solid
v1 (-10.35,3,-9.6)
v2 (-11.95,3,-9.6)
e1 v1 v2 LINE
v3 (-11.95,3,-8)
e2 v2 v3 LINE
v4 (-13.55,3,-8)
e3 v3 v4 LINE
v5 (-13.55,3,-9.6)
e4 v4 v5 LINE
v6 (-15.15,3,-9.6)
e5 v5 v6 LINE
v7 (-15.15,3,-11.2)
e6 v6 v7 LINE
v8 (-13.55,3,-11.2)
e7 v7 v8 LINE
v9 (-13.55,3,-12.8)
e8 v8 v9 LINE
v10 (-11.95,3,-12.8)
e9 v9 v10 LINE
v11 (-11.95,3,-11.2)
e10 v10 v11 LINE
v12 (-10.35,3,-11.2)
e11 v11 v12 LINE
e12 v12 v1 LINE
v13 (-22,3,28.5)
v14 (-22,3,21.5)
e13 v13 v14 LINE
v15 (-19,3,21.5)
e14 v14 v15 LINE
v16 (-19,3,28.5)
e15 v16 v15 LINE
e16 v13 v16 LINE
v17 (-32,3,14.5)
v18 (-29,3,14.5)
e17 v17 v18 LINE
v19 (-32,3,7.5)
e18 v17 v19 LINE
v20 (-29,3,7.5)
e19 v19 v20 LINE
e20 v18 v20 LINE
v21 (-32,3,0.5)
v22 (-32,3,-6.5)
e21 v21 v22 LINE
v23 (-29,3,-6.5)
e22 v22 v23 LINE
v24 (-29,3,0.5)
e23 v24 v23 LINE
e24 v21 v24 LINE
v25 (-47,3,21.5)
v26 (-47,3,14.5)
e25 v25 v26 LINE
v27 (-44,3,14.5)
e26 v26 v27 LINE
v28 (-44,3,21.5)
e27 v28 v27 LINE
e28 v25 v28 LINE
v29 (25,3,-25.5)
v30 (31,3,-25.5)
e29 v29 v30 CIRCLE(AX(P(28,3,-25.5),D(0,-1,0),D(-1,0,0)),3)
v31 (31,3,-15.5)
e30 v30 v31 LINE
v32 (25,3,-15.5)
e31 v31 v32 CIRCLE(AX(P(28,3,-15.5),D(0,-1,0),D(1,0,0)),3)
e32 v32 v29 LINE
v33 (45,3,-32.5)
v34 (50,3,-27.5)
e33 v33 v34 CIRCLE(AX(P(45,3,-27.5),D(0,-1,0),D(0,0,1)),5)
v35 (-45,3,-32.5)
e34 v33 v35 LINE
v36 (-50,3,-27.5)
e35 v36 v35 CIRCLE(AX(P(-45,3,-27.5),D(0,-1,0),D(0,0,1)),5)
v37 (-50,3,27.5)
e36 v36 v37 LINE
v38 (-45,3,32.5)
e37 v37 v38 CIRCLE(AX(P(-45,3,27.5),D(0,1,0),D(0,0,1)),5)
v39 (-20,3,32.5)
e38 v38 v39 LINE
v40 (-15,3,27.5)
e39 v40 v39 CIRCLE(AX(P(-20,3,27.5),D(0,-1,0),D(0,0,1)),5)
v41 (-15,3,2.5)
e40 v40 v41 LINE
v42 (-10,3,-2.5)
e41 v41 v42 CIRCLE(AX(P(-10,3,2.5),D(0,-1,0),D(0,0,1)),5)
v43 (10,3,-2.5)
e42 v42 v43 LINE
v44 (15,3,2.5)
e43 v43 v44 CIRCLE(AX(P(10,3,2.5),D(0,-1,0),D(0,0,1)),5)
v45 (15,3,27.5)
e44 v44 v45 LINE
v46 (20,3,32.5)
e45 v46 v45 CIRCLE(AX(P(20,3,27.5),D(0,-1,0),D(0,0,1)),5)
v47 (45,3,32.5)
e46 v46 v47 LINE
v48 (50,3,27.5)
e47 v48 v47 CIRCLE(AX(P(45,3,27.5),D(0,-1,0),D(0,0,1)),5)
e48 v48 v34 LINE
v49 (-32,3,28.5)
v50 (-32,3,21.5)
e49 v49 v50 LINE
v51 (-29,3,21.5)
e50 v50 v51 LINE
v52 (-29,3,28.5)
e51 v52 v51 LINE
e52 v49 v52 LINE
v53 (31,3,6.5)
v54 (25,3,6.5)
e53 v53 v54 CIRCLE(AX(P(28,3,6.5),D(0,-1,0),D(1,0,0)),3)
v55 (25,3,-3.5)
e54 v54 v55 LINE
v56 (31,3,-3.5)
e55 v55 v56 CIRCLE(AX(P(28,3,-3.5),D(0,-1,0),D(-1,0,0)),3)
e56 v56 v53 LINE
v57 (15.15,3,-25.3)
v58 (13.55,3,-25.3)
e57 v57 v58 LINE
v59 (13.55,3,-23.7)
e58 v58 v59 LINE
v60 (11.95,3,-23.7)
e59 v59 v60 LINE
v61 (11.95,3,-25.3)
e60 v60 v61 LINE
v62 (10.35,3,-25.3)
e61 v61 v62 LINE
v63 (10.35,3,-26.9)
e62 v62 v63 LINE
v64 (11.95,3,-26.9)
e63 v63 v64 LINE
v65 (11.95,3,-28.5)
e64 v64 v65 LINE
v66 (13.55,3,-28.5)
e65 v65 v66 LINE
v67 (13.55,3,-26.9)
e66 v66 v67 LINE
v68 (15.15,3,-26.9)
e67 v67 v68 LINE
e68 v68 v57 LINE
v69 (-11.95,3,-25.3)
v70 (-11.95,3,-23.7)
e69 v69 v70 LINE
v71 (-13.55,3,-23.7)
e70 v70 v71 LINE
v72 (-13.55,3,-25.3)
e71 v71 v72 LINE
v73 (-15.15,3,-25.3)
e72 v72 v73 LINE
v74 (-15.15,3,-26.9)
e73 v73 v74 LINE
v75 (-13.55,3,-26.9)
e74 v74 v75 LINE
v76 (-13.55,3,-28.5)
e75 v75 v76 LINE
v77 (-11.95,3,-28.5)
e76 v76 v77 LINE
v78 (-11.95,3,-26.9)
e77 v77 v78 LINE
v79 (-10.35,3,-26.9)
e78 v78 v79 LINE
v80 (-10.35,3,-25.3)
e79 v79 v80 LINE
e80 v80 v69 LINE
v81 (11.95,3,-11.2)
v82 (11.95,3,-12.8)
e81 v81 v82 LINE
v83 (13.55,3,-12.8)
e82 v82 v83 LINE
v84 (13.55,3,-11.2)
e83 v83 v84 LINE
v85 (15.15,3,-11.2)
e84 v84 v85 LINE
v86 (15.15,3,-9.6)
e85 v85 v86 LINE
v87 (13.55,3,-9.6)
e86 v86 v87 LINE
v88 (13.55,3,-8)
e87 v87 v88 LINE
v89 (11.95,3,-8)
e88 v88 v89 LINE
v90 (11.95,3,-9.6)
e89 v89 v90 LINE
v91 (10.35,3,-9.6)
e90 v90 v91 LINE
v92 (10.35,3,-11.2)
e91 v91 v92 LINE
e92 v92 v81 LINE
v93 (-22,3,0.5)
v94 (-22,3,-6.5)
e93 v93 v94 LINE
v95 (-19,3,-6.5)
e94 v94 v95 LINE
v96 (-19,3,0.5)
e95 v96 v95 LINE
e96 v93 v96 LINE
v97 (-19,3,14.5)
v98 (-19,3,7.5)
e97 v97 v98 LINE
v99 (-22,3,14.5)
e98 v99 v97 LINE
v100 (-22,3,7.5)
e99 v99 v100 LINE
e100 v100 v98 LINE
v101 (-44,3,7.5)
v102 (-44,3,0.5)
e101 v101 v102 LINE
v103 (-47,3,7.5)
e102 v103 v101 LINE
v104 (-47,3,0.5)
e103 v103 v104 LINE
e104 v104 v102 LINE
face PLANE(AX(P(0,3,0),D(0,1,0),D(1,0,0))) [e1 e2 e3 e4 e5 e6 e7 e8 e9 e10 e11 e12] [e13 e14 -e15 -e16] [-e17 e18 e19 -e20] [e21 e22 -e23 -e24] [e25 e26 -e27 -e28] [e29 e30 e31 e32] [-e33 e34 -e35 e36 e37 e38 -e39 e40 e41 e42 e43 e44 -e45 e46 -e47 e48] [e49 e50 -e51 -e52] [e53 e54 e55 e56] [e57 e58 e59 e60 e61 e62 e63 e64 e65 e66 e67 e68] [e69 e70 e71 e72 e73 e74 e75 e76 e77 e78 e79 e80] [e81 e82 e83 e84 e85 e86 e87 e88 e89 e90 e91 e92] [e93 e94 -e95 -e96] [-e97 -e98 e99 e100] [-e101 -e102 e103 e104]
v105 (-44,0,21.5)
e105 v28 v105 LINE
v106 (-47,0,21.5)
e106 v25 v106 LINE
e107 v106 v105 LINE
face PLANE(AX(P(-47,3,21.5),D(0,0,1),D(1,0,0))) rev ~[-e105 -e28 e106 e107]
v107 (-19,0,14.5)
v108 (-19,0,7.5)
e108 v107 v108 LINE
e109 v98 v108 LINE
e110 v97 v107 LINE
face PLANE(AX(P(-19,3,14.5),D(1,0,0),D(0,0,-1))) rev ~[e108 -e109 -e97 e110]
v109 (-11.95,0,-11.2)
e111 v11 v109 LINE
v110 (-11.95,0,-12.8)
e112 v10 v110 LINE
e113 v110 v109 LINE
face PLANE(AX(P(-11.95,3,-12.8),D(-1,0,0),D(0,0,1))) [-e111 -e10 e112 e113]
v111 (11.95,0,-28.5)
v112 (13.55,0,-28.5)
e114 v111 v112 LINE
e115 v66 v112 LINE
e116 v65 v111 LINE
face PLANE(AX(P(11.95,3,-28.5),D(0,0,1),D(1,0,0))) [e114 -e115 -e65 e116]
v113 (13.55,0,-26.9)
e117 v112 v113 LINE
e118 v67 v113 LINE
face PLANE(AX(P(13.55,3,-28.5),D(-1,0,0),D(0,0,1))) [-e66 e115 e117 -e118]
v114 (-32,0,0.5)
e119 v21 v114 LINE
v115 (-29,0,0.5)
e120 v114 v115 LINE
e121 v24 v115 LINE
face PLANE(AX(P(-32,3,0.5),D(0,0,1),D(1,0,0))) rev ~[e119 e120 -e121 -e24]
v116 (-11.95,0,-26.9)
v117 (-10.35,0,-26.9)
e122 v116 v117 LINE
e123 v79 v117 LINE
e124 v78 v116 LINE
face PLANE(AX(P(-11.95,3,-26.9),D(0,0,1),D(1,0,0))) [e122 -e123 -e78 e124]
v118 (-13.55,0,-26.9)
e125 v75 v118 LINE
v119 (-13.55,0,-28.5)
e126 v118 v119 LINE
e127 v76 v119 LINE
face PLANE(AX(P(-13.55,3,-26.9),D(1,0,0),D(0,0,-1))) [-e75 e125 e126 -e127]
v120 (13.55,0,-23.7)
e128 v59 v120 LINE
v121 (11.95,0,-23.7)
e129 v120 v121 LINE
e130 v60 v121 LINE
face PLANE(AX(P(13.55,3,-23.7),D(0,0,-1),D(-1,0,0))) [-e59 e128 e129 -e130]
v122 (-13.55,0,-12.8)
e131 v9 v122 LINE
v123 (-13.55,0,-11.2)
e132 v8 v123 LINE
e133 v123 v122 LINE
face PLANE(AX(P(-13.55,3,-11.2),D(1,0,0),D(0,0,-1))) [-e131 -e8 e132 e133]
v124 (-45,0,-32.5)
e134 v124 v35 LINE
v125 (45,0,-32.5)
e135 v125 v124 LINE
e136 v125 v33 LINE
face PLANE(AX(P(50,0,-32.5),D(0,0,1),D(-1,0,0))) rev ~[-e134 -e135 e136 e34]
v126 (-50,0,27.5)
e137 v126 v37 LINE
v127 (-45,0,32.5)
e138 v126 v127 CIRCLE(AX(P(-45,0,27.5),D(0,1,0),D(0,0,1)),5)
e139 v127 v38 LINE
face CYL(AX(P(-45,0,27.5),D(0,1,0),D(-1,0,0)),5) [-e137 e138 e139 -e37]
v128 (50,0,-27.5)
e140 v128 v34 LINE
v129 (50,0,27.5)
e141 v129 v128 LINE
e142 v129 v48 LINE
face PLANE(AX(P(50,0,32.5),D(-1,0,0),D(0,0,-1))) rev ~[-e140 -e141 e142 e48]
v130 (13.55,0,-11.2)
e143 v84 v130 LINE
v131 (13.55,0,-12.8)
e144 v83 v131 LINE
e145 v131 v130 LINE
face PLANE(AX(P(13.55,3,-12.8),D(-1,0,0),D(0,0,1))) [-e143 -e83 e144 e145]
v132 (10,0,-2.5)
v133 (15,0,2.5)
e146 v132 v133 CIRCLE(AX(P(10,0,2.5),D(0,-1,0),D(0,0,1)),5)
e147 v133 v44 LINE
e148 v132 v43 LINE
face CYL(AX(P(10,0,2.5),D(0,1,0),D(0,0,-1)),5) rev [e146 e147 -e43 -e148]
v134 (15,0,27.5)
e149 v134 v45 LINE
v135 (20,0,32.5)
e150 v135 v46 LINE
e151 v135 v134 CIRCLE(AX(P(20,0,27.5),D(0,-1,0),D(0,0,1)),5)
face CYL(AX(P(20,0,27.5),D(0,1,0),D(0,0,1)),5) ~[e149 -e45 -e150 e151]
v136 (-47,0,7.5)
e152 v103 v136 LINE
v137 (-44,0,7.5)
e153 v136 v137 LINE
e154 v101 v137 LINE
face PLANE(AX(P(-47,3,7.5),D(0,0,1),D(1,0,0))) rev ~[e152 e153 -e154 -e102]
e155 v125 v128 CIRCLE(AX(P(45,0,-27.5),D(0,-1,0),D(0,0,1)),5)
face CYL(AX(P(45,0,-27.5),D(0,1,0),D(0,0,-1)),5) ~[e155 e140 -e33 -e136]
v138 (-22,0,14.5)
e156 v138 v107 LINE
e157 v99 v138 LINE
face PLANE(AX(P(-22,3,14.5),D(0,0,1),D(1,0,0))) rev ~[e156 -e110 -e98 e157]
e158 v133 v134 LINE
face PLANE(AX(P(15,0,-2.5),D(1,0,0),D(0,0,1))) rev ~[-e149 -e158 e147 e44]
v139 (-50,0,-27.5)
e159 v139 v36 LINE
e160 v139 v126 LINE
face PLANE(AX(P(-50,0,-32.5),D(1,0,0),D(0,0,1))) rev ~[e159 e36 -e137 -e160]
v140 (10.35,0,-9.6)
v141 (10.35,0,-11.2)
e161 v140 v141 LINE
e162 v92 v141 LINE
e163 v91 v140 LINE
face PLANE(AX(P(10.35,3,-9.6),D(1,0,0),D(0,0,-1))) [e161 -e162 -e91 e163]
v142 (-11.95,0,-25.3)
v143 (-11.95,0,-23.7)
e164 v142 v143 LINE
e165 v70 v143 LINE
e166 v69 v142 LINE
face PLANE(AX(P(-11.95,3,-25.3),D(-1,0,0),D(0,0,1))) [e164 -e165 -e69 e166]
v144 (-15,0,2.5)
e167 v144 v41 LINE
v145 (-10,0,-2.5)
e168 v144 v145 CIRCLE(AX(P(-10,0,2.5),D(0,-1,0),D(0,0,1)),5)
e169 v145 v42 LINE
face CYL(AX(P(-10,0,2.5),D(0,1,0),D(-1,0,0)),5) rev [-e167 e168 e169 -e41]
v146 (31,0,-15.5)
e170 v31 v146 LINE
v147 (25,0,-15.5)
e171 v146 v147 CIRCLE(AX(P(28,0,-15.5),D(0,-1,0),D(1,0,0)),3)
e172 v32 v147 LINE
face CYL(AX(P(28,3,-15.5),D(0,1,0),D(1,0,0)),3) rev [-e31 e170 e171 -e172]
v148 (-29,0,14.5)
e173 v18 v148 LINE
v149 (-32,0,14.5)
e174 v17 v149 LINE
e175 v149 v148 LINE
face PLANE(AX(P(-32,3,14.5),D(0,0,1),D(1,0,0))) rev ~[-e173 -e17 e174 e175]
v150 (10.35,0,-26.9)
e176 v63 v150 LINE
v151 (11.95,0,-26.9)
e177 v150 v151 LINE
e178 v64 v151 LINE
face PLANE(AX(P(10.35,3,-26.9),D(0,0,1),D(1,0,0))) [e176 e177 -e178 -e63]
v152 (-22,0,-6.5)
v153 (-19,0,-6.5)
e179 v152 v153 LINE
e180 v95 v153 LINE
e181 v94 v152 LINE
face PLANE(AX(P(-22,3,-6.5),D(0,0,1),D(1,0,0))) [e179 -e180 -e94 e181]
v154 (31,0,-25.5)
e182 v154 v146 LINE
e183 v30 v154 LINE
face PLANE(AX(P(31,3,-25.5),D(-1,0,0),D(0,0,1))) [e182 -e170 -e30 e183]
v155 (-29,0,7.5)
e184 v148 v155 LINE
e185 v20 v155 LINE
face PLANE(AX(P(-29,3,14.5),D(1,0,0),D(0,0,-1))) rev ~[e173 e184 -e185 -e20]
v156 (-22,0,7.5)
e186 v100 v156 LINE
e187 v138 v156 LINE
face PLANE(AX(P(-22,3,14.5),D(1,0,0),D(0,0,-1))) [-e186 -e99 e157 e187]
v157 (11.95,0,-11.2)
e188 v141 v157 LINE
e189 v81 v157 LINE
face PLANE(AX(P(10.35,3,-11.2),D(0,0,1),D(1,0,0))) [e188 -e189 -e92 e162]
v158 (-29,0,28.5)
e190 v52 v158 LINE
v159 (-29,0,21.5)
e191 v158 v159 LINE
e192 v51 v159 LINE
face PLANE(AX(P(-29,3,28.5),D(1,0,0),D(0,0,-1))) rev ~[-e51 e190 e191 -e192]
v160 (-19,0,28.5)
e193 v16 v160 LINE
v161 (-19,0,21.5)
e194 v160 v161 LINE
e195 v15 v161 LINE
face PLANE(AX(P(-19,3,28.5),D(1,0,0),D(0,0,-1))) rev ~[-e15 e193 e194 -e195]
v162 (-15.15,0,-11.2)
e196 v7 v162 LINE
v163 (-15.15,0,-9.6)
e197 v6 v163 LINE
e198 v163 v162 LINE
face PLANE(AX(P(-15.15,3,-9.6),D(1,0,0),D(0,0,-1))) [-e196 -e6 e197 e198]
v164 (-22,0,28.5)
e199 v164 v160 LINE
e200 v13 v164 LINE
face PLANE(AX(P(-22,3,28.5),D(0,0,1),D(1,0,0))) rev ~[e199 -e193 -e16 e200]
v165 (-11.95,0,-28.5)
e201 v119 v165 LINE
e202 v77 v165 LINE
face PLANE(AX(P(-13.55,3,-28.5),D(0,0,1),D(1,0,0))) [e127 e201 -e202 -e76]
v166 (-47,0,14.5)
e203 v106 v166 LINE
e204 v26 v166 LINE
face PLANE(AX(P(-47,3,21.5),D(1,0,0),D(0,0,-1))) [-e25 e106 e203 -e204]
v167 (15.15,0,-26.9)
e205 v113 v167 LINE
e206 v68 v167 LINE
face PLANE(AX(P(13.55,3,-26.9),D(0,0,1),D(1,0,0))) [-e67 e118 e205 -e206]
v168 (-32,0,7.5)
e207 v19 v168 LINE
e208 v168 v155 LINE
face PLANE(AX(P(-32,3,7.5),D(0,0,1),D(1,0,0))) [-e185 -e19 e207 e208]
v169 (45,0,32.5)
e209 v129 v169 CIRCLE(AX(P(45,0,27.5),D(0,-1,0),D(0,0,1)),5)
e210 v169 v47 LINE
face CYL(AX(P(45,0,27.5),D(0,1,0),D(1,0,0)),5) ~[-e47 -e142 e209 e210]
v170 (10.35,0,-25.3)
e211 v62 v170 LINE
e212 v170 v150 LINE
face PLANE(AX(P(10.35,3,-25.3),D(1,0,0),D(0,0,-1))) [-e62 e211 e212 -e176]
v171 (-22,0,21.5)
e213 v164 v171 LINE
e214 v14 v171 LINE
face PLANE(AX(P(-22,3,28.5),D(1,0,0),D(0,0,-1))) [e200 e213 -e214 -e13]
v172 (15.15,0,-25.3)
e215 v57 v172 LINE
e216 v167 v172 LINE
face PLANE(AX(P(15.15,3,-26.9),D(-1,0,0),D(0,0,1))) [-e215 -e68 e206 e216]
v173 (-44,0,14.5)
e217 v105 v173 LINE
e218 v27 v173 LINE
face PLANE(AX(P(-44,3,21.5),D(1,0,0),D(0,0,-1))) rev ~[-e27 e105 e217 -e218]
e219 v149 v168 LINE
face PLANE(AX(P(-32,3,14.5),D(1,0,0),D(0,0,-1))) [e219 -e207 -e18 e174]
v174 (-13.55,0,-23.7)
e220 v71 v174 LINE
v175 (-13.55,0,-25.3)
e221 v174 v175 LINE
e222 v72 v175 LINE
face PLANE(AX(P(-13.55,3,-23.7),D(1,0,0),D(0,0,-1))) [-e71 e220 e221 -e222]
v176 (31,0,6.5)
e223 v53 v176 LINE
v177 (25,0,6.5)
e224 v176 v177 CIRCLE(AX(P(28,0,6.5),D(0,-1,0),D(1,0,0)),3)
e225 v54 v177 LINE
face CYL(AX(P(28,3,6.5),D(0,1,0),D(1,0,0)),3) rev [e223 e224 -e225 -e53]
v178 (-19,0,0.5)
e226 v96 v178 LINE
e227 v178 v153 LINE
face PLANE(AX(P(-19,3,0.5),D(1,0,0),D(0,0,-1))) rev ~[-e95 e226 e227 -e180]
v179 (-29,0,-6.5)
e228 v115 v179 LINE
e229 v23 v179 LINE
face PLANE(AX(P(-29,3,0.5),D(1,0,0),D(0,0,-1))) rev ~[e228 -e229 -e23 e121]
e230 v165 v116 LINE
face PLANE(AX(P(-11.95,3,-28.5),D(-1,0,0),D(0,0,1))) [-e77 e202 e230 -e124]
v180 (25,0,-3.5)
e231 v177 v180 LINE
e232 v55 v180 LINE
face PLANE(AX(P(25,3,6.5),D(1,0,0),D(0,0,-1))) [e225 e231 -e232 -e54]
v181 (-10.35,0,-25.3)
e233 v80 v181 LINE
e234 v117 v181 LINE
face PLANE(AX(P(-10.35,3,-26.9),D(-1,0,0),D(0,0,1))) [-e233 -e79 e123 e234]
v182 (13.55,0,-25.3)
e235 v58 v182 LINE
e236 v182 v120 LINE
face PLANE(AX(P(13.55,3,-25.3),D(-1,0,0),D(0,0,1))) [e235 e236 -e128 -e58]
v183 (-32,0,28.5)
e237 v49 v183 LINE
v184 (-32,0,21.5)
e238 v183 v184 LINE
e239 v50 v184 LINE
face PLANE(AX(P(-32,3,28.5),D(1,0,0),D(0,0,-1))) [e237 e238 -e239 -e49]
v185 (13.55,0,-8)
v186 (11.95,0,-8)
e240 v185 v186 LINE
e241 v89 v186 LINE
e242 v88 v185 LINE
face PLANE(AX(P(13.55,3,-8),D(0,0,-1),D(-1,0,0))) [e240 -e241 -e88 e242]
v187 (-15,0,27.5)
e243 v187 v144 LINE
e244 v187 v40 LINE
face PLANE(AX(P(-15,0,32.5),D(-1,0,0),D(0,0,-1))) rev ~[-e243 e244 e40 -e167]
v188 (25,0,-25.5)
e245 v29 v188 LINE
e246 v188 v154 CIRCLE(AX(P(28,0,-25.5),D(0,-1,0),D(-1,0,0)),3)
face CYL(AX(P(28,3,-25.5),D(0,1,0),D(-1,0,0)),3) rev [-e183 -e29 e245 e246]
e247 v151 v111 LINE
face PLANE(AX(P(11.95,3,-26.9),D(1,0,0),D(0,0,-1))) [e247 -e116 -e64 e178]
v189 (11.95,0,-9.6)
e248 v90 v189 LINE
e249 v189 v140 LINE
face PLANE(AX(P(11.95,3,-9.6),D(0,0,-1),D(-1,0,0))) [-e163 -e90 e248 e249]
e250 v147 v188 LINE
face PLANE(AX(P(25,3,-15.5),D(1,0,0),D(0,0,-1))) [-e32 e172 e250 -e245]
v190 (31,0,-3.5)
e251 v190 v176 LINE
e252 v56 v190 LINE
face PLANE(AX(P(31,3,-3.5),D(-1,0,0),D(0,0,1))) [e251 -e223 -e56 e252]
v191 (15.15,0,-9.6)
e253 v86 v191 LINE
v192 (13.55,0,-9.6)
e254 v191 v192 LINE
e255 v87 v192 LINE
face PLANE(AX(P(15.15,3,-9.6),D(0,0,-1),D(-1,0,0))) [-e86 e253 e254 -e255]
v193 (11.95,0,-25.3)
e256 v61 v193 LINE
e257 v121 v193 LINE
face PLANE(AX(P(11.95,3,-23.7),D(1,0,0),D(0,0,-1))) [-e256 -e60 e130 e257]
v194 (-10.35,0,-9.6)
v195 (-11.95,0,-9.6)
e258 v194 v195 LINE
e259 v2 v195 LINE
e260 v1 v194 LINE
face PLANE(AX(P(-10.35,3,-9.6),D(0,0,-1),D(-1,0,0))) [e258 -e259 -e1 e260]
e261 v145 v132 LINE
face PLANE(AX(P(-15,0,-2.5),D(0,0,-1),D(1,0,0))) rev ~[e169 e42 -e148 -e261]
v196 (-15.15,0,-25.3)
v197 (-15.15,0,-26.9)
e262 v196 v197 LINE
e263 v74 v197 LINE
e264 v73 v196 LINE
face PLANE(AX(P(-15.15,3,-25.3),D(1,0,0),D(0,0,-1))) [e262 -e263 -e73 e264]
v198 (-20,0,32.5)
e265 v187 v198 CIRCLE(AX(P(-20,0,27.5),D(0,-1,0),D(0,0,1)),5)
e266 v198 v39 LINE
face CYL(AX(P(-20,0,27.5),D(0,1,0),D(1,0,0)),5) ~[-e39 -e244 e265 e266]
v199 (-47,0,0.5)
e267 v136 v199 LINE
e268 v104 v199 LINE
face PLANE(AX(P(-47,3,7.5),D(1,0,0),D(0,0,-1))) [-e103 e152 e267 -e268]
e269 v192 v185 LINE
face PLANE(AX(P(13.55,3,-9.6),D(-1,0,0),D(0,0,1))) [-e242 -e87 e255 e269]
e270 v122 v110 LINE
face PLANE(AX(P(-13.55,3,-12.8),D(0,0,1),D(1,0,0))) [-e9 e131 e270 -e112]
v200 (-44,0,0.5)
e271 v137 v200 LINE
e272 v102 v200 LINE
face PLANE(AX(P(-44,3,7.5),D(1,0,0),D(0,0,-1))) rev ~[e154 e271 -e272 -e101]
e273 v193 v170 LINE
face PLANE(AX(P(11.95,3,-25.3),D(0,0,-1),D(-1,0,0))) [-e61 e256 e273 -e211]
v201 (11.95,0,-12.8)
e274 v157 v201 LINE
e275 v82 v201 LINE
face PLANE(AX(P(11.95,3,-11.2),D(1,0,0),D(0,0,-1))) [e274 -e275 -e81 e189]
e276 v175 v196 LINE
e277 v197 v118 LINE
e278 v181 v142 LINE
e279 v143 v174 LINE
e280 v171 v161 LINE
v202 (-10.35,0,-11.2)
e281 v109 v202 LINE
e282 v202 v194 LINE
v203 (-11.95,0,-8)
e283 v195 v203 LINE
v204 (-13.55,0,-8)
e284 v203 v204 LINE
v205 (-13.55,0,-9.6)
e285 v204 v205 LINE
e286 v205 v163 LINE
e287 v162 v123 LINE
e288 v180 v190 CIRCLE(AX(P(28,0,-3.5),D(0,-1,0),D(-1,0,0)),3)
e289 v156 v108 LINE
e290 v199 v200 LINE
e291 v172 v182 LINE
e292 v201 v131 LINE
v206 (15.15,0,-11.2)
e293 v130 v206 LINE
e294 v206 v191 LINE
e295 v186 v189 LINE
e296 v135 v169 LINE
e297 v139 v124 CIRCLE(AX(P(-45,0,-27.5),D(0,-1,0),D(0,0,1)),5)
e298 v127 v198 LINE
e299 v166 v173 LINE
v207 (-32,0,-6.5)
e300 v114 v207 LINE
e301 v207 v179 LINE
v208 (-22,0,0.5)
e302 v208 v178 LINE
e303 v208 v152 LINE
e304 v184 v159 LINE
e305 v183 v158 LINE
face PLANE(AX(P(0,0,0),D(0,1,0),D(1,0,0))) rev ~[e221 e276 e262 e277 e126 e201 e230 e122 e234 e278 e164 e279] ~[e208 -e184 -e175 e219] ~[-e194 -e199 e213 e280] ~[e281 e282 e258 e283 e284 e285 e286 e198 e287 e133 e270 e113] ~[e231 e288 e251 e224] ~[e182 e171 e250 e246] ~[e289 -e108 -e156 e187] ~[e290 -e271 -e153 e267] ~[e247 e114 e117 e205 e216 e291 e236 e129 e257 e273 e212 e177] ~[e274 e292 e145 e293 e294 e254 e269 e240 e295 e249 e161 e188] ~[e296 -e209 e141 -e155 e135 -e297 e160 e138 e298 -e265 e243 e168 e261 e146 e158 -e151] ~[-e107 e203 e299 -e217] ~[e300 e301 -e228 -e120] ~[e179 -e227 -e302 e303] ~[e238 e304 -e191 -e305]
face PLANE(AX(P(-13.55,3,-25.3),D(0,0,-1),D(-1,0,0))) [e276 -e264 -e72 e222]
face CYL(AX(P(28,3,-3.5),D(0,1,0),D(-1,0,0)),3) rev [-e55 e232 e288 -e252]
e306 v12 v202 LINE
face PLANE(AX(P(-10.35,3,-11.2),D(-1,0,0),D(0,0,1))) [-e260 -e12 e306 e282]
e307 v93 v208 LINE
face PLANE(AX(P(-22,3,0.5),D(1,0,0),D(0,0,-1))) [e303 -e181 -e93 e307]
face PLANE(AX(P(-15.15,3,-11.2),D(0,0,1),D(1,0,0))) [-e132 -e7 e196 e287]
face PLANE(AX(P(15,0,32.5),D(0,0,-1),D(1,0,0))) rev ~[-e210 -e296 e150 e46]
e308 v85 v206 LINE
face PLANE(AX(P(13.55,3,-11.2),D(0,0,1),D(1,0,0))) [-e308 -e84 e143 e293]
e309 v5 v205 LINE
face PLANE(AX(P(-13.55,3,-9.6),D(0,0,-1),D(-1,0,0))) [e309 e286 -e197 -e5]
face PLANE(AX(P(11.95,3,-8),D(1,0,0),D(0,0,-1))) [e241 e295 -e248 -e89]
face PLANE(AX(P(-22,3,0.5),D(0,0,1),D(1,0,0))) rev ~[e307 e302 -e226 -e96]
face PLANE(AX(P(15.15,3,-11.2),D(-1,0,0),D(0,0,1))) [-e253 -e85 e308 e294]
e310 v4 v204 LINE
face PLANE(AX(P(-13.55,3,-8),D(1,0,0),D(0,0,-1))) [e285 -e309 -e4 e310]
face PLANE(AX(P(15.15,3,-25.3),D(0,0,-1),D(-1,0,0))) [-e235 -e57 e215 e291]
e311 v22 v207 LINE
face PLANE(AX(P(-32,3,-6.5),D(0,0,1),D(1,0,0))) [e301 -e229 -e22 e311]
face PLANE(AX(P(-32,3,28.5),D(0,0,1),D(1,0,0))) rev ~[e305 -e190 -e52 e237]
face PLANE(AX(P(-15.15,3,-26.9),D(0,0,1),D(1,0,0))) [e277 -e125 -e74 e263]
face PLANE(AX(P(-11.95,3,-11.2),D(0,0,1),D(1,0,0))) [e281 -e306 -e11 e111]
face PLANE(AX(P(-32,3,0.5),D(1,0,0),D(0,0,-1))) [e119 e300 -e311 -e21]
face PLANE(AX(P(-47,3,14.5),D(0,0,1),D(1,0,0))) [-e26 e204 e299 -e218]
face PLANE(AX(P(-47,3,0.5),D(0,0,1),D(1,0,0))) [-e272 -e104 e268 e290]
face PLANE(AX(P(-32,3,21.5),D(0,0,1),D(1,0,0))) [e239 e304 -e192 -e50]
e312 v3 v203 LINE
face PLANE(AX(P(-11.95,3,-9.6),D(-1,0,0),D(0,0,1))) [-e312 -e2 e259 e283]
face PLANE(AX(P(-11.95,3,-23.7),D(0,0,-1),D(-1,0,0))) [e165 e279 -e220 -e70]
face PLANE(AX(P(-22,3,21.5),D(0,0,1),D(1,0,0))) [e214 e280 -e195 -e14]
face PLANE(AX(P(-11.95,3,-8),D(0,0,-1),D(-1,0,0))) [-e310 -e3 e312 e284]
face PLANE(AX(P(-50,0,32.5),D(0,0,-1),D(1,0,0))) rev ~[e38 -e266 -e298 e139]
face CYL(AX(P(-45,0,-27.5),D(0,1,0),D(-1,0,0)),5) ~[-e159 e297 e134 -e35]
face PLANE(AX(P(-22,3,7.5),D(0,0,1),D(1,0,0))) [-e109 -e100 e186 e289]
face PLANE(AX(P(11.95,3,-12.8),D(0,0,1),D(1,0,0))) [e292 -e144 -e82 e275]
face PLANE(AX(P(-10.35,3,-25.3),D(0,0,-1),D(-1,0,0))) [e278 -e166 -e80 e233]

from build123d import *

# Parameters (mm, degrees)
BOSS_EXTRUDE1_DEPTH  = 3
FILLET1_R            = 5
FILLET2_R            = 5
SKETCH2_W            = 3
SKETCH2_H            = 7
CUT_EXTRUDE1_DEPTH   = 3
LPATTERN1_COUNT      = 3
LPATTERN1_PITCH      = 14
LPATTERN1_COUNT_DIR2 = 2
LPATTERN1_PITCH_DIR2 = 10
CUT_EXTRUDE2_DEPTH   = 3
LPATTERN2_COUNT      = 2
LPATTERN2_PITCH      = 25.5
LPATTERN2_COUNT_DIR2 = 2
LPATTERN2_PITCH_DIR2 = 15.7
FILLET3_R            = 5
FILLET4_R            = 5
FILLET5_R            = 5
FILLET6_R            = 5
FILLET7_R            = 5
FILLET8_R            = 5
CUT_EXTRUDE3_DEPTH   = 3
LPATTERN3_COUNT      = 2
LPATTERN3_PITCH      = 22
SKETCH5_W            = 3
SKETCH5_H            = 7
CUT_EXTRUDE4_DEPTH   = 3
LPATTERN4_COUNT      = 2
LPATTERN4_PITCH      = 14


with BuildPart() as part:
    # Sketch1 → Boss-Extrude1 (new body)
    with BuildSketch(Plane(origin=(0, 0, 0), x_dir=(1, 0, 0), z_dir=(0, 1, 0))):
        Polygon((15, -32.5), (50, -32.5), (50, 32.5), (-50, 32.5), (-50, -32.5), (-15, -32.5), (-15, 2.5), (15, 2.5), align=None)
    extrude(amount=BOSS_EXTRUDE1_DEPTH)

    # Fillet1
    fillet1_edges = [part.edges().sort_by_distance(p)[0] for p in [
        (-15, 1.5, -2.5),
    ]]
    fillet(fillet1_edges, radius=FILLET1_R)

    # Fillet2
    fillet2_edges = [part.edges().sort_by_distance(p)[0] for p in [
        (15, 1.5, -2.5),
    ]]
    fillet(fillet2_edges, radius=FILLET2_R)

    # Sketch2 → Cut-Extrude1 (cut)
    with BuildSketch(Plane(origin=(0, 3, 0), x_dir=(1, 0, 0), z_dir=(0, 1, 0))):
        with Locations((-20.5, 3)):
            Rectangle(SKETCH2_W, SKETCH2_H)
    cut_extrude1 = extrude(amount=-CUT_EXTRUDE1_DEPTH, mode=Mode.SUBTRACT)

    # LPattern1: Cut-Extrude1 3 × 2
    with Locations(*[(-j * LPATTERN1_PITCH_DIR2, 0, i * LPATTERN1_PITCH) for i in range(LPATTERN1_COUNT) for j in range(LPATTERN1_COUNT_DIR2) if (i, j) != (0, 0)]):
        add(cut_extrude1, mode=Mode.SUBTRACT)

    # Sketch3 → Cut-Extrude2 (cut)
    with BuildSketch(Plane(origin=(0, 3, 0), x_dir=(1, 0, 0), z_dir=(0, 1, 0))):
        Polygon((-13.55, 28.5), (-11.95, 28.5), (-11.95, 26.9), (-10.35, 26.9), (-10.35, 25.3), (-11.95, 25.3), (-11.95, 23.7), (-13.55, 23.7), (-13.55, 25.3), (-15.15, 25.3), (-15.15, 26.9), (-13.55, 26.9), align=None)
    cut_extrude2 = extrude(amount=-CUT_EXTRUDE2_DEPTH, mode=Mode.SUBTRACT)

    # LPattern2: Cut-Extrude2 2 × 2
    with Locations(*[(i * LPATTERN2_PITCH, 0, j * LPATTERN2_PITCH_DIR2) for i in range(LPATTERN2_COUNT) for j in range(LPATTERN2_COUNT_DIR2) if (i, j) != (0, 0)]):
        add(cut_extrude2, mode=Mode.SUBTRACT)

    # Fillet3
    fillet3_edges = [part.edges().sort_by_distance(p)[0] for p in [
        (-50, 1.5, -32.5),
    ]]
    fillet(fillet3_edges, radius=FILLET3_R)

    # Fillet4
    fillet4_edges = [part.edges().sort_by_distance(p)[0] for p in [
        (50, 1.5, -32.5),
    ]]
    fillet(fillet4_edges, radius=FILLET4_R)

    # Fillet5
    fillet5_edges = [part.edges().sort_by_distance(p)[0] for p in [
        (-50, 1.5, 32.5),
    ]]
    fillet(fillet5_edges, radius=FILLET5_R)

    # Fillet6
    fillet6_edges = [part.edges().sort_by_distance(p)[0] for p in [
        (50, 1.5, 32.5),
    ]]
    fillet(fillet6_edges, radius=FILLET6_R)

    # Fillet7
    fillet7_edges = [part.edges().sort_by_distance(p)[0] for p in [
        (15, 1.5, 32.5),
    ]]
    fillet(fillet7_edges, radius=FILLET7_R)

    # Fillet8
    fillet8_edges = [part.edges().sort_by_distance(p)[0] for p in [
        (-15, 1.5, 32.5),
    ]]
    fillet(fillet8_edges, radius=FILLET8_R)

    # Sketch4 → Cut-Extrude3 (cut)
    with BuildSketch(Plane(origin=(0, 3, 0), x_dir=(1, 0, 0), z_dir=(0, 1, 0))):
        with BuildLine():
            Line((31, 25.5), (31, 15.5))
            ThreePointArc((31, 15.5), (28, 12.5), (25, 15.5))
            Line((25, 15.5), (25, 25.5))
            ThreePointArc((25, 25.5), (28, 28.5), (31, 25.5))
        make_face()
    cut_extrude3 = extrude(amount=-CUT_EXTRUDE3_DEPTH, mode=Mode.SUBTRACT)

    # LPattern3: Cut-Extrude3 ×2
    with Locations(*[(0, 0, i * LPATTERN3_PITCH) for i in range(1, LPATTERN3_COUNT)]):
        add(cut_extrude3, mode=Mode.SUBTRACT)

    # Sketch5 → Cut-Extrude4 (cut)
    with BuildSketch(Plane(origin=(0, 3, 0), x_dir=(1, 0, 0), z_dir=(0, 1, 0))):
        with Locations((-45.5, -4)):
            Rectangle(SKETCH5_W, SKETCH5_H)
    cut_extrude4 = extrude(amount=-CUT_EXTRUDE4_DEPTH, mode=Mode.SUBTRACT)

    # LPattern4: Cut-Extrude4 ×2
    with Locations(*[(0, 0, i * LPATTERN4_PITCH) for i in range(1, LPATTERN4_COUNT)]):
        add(cut_extrude4, mode=Mode.SUBTRACT)


solid = part.part
